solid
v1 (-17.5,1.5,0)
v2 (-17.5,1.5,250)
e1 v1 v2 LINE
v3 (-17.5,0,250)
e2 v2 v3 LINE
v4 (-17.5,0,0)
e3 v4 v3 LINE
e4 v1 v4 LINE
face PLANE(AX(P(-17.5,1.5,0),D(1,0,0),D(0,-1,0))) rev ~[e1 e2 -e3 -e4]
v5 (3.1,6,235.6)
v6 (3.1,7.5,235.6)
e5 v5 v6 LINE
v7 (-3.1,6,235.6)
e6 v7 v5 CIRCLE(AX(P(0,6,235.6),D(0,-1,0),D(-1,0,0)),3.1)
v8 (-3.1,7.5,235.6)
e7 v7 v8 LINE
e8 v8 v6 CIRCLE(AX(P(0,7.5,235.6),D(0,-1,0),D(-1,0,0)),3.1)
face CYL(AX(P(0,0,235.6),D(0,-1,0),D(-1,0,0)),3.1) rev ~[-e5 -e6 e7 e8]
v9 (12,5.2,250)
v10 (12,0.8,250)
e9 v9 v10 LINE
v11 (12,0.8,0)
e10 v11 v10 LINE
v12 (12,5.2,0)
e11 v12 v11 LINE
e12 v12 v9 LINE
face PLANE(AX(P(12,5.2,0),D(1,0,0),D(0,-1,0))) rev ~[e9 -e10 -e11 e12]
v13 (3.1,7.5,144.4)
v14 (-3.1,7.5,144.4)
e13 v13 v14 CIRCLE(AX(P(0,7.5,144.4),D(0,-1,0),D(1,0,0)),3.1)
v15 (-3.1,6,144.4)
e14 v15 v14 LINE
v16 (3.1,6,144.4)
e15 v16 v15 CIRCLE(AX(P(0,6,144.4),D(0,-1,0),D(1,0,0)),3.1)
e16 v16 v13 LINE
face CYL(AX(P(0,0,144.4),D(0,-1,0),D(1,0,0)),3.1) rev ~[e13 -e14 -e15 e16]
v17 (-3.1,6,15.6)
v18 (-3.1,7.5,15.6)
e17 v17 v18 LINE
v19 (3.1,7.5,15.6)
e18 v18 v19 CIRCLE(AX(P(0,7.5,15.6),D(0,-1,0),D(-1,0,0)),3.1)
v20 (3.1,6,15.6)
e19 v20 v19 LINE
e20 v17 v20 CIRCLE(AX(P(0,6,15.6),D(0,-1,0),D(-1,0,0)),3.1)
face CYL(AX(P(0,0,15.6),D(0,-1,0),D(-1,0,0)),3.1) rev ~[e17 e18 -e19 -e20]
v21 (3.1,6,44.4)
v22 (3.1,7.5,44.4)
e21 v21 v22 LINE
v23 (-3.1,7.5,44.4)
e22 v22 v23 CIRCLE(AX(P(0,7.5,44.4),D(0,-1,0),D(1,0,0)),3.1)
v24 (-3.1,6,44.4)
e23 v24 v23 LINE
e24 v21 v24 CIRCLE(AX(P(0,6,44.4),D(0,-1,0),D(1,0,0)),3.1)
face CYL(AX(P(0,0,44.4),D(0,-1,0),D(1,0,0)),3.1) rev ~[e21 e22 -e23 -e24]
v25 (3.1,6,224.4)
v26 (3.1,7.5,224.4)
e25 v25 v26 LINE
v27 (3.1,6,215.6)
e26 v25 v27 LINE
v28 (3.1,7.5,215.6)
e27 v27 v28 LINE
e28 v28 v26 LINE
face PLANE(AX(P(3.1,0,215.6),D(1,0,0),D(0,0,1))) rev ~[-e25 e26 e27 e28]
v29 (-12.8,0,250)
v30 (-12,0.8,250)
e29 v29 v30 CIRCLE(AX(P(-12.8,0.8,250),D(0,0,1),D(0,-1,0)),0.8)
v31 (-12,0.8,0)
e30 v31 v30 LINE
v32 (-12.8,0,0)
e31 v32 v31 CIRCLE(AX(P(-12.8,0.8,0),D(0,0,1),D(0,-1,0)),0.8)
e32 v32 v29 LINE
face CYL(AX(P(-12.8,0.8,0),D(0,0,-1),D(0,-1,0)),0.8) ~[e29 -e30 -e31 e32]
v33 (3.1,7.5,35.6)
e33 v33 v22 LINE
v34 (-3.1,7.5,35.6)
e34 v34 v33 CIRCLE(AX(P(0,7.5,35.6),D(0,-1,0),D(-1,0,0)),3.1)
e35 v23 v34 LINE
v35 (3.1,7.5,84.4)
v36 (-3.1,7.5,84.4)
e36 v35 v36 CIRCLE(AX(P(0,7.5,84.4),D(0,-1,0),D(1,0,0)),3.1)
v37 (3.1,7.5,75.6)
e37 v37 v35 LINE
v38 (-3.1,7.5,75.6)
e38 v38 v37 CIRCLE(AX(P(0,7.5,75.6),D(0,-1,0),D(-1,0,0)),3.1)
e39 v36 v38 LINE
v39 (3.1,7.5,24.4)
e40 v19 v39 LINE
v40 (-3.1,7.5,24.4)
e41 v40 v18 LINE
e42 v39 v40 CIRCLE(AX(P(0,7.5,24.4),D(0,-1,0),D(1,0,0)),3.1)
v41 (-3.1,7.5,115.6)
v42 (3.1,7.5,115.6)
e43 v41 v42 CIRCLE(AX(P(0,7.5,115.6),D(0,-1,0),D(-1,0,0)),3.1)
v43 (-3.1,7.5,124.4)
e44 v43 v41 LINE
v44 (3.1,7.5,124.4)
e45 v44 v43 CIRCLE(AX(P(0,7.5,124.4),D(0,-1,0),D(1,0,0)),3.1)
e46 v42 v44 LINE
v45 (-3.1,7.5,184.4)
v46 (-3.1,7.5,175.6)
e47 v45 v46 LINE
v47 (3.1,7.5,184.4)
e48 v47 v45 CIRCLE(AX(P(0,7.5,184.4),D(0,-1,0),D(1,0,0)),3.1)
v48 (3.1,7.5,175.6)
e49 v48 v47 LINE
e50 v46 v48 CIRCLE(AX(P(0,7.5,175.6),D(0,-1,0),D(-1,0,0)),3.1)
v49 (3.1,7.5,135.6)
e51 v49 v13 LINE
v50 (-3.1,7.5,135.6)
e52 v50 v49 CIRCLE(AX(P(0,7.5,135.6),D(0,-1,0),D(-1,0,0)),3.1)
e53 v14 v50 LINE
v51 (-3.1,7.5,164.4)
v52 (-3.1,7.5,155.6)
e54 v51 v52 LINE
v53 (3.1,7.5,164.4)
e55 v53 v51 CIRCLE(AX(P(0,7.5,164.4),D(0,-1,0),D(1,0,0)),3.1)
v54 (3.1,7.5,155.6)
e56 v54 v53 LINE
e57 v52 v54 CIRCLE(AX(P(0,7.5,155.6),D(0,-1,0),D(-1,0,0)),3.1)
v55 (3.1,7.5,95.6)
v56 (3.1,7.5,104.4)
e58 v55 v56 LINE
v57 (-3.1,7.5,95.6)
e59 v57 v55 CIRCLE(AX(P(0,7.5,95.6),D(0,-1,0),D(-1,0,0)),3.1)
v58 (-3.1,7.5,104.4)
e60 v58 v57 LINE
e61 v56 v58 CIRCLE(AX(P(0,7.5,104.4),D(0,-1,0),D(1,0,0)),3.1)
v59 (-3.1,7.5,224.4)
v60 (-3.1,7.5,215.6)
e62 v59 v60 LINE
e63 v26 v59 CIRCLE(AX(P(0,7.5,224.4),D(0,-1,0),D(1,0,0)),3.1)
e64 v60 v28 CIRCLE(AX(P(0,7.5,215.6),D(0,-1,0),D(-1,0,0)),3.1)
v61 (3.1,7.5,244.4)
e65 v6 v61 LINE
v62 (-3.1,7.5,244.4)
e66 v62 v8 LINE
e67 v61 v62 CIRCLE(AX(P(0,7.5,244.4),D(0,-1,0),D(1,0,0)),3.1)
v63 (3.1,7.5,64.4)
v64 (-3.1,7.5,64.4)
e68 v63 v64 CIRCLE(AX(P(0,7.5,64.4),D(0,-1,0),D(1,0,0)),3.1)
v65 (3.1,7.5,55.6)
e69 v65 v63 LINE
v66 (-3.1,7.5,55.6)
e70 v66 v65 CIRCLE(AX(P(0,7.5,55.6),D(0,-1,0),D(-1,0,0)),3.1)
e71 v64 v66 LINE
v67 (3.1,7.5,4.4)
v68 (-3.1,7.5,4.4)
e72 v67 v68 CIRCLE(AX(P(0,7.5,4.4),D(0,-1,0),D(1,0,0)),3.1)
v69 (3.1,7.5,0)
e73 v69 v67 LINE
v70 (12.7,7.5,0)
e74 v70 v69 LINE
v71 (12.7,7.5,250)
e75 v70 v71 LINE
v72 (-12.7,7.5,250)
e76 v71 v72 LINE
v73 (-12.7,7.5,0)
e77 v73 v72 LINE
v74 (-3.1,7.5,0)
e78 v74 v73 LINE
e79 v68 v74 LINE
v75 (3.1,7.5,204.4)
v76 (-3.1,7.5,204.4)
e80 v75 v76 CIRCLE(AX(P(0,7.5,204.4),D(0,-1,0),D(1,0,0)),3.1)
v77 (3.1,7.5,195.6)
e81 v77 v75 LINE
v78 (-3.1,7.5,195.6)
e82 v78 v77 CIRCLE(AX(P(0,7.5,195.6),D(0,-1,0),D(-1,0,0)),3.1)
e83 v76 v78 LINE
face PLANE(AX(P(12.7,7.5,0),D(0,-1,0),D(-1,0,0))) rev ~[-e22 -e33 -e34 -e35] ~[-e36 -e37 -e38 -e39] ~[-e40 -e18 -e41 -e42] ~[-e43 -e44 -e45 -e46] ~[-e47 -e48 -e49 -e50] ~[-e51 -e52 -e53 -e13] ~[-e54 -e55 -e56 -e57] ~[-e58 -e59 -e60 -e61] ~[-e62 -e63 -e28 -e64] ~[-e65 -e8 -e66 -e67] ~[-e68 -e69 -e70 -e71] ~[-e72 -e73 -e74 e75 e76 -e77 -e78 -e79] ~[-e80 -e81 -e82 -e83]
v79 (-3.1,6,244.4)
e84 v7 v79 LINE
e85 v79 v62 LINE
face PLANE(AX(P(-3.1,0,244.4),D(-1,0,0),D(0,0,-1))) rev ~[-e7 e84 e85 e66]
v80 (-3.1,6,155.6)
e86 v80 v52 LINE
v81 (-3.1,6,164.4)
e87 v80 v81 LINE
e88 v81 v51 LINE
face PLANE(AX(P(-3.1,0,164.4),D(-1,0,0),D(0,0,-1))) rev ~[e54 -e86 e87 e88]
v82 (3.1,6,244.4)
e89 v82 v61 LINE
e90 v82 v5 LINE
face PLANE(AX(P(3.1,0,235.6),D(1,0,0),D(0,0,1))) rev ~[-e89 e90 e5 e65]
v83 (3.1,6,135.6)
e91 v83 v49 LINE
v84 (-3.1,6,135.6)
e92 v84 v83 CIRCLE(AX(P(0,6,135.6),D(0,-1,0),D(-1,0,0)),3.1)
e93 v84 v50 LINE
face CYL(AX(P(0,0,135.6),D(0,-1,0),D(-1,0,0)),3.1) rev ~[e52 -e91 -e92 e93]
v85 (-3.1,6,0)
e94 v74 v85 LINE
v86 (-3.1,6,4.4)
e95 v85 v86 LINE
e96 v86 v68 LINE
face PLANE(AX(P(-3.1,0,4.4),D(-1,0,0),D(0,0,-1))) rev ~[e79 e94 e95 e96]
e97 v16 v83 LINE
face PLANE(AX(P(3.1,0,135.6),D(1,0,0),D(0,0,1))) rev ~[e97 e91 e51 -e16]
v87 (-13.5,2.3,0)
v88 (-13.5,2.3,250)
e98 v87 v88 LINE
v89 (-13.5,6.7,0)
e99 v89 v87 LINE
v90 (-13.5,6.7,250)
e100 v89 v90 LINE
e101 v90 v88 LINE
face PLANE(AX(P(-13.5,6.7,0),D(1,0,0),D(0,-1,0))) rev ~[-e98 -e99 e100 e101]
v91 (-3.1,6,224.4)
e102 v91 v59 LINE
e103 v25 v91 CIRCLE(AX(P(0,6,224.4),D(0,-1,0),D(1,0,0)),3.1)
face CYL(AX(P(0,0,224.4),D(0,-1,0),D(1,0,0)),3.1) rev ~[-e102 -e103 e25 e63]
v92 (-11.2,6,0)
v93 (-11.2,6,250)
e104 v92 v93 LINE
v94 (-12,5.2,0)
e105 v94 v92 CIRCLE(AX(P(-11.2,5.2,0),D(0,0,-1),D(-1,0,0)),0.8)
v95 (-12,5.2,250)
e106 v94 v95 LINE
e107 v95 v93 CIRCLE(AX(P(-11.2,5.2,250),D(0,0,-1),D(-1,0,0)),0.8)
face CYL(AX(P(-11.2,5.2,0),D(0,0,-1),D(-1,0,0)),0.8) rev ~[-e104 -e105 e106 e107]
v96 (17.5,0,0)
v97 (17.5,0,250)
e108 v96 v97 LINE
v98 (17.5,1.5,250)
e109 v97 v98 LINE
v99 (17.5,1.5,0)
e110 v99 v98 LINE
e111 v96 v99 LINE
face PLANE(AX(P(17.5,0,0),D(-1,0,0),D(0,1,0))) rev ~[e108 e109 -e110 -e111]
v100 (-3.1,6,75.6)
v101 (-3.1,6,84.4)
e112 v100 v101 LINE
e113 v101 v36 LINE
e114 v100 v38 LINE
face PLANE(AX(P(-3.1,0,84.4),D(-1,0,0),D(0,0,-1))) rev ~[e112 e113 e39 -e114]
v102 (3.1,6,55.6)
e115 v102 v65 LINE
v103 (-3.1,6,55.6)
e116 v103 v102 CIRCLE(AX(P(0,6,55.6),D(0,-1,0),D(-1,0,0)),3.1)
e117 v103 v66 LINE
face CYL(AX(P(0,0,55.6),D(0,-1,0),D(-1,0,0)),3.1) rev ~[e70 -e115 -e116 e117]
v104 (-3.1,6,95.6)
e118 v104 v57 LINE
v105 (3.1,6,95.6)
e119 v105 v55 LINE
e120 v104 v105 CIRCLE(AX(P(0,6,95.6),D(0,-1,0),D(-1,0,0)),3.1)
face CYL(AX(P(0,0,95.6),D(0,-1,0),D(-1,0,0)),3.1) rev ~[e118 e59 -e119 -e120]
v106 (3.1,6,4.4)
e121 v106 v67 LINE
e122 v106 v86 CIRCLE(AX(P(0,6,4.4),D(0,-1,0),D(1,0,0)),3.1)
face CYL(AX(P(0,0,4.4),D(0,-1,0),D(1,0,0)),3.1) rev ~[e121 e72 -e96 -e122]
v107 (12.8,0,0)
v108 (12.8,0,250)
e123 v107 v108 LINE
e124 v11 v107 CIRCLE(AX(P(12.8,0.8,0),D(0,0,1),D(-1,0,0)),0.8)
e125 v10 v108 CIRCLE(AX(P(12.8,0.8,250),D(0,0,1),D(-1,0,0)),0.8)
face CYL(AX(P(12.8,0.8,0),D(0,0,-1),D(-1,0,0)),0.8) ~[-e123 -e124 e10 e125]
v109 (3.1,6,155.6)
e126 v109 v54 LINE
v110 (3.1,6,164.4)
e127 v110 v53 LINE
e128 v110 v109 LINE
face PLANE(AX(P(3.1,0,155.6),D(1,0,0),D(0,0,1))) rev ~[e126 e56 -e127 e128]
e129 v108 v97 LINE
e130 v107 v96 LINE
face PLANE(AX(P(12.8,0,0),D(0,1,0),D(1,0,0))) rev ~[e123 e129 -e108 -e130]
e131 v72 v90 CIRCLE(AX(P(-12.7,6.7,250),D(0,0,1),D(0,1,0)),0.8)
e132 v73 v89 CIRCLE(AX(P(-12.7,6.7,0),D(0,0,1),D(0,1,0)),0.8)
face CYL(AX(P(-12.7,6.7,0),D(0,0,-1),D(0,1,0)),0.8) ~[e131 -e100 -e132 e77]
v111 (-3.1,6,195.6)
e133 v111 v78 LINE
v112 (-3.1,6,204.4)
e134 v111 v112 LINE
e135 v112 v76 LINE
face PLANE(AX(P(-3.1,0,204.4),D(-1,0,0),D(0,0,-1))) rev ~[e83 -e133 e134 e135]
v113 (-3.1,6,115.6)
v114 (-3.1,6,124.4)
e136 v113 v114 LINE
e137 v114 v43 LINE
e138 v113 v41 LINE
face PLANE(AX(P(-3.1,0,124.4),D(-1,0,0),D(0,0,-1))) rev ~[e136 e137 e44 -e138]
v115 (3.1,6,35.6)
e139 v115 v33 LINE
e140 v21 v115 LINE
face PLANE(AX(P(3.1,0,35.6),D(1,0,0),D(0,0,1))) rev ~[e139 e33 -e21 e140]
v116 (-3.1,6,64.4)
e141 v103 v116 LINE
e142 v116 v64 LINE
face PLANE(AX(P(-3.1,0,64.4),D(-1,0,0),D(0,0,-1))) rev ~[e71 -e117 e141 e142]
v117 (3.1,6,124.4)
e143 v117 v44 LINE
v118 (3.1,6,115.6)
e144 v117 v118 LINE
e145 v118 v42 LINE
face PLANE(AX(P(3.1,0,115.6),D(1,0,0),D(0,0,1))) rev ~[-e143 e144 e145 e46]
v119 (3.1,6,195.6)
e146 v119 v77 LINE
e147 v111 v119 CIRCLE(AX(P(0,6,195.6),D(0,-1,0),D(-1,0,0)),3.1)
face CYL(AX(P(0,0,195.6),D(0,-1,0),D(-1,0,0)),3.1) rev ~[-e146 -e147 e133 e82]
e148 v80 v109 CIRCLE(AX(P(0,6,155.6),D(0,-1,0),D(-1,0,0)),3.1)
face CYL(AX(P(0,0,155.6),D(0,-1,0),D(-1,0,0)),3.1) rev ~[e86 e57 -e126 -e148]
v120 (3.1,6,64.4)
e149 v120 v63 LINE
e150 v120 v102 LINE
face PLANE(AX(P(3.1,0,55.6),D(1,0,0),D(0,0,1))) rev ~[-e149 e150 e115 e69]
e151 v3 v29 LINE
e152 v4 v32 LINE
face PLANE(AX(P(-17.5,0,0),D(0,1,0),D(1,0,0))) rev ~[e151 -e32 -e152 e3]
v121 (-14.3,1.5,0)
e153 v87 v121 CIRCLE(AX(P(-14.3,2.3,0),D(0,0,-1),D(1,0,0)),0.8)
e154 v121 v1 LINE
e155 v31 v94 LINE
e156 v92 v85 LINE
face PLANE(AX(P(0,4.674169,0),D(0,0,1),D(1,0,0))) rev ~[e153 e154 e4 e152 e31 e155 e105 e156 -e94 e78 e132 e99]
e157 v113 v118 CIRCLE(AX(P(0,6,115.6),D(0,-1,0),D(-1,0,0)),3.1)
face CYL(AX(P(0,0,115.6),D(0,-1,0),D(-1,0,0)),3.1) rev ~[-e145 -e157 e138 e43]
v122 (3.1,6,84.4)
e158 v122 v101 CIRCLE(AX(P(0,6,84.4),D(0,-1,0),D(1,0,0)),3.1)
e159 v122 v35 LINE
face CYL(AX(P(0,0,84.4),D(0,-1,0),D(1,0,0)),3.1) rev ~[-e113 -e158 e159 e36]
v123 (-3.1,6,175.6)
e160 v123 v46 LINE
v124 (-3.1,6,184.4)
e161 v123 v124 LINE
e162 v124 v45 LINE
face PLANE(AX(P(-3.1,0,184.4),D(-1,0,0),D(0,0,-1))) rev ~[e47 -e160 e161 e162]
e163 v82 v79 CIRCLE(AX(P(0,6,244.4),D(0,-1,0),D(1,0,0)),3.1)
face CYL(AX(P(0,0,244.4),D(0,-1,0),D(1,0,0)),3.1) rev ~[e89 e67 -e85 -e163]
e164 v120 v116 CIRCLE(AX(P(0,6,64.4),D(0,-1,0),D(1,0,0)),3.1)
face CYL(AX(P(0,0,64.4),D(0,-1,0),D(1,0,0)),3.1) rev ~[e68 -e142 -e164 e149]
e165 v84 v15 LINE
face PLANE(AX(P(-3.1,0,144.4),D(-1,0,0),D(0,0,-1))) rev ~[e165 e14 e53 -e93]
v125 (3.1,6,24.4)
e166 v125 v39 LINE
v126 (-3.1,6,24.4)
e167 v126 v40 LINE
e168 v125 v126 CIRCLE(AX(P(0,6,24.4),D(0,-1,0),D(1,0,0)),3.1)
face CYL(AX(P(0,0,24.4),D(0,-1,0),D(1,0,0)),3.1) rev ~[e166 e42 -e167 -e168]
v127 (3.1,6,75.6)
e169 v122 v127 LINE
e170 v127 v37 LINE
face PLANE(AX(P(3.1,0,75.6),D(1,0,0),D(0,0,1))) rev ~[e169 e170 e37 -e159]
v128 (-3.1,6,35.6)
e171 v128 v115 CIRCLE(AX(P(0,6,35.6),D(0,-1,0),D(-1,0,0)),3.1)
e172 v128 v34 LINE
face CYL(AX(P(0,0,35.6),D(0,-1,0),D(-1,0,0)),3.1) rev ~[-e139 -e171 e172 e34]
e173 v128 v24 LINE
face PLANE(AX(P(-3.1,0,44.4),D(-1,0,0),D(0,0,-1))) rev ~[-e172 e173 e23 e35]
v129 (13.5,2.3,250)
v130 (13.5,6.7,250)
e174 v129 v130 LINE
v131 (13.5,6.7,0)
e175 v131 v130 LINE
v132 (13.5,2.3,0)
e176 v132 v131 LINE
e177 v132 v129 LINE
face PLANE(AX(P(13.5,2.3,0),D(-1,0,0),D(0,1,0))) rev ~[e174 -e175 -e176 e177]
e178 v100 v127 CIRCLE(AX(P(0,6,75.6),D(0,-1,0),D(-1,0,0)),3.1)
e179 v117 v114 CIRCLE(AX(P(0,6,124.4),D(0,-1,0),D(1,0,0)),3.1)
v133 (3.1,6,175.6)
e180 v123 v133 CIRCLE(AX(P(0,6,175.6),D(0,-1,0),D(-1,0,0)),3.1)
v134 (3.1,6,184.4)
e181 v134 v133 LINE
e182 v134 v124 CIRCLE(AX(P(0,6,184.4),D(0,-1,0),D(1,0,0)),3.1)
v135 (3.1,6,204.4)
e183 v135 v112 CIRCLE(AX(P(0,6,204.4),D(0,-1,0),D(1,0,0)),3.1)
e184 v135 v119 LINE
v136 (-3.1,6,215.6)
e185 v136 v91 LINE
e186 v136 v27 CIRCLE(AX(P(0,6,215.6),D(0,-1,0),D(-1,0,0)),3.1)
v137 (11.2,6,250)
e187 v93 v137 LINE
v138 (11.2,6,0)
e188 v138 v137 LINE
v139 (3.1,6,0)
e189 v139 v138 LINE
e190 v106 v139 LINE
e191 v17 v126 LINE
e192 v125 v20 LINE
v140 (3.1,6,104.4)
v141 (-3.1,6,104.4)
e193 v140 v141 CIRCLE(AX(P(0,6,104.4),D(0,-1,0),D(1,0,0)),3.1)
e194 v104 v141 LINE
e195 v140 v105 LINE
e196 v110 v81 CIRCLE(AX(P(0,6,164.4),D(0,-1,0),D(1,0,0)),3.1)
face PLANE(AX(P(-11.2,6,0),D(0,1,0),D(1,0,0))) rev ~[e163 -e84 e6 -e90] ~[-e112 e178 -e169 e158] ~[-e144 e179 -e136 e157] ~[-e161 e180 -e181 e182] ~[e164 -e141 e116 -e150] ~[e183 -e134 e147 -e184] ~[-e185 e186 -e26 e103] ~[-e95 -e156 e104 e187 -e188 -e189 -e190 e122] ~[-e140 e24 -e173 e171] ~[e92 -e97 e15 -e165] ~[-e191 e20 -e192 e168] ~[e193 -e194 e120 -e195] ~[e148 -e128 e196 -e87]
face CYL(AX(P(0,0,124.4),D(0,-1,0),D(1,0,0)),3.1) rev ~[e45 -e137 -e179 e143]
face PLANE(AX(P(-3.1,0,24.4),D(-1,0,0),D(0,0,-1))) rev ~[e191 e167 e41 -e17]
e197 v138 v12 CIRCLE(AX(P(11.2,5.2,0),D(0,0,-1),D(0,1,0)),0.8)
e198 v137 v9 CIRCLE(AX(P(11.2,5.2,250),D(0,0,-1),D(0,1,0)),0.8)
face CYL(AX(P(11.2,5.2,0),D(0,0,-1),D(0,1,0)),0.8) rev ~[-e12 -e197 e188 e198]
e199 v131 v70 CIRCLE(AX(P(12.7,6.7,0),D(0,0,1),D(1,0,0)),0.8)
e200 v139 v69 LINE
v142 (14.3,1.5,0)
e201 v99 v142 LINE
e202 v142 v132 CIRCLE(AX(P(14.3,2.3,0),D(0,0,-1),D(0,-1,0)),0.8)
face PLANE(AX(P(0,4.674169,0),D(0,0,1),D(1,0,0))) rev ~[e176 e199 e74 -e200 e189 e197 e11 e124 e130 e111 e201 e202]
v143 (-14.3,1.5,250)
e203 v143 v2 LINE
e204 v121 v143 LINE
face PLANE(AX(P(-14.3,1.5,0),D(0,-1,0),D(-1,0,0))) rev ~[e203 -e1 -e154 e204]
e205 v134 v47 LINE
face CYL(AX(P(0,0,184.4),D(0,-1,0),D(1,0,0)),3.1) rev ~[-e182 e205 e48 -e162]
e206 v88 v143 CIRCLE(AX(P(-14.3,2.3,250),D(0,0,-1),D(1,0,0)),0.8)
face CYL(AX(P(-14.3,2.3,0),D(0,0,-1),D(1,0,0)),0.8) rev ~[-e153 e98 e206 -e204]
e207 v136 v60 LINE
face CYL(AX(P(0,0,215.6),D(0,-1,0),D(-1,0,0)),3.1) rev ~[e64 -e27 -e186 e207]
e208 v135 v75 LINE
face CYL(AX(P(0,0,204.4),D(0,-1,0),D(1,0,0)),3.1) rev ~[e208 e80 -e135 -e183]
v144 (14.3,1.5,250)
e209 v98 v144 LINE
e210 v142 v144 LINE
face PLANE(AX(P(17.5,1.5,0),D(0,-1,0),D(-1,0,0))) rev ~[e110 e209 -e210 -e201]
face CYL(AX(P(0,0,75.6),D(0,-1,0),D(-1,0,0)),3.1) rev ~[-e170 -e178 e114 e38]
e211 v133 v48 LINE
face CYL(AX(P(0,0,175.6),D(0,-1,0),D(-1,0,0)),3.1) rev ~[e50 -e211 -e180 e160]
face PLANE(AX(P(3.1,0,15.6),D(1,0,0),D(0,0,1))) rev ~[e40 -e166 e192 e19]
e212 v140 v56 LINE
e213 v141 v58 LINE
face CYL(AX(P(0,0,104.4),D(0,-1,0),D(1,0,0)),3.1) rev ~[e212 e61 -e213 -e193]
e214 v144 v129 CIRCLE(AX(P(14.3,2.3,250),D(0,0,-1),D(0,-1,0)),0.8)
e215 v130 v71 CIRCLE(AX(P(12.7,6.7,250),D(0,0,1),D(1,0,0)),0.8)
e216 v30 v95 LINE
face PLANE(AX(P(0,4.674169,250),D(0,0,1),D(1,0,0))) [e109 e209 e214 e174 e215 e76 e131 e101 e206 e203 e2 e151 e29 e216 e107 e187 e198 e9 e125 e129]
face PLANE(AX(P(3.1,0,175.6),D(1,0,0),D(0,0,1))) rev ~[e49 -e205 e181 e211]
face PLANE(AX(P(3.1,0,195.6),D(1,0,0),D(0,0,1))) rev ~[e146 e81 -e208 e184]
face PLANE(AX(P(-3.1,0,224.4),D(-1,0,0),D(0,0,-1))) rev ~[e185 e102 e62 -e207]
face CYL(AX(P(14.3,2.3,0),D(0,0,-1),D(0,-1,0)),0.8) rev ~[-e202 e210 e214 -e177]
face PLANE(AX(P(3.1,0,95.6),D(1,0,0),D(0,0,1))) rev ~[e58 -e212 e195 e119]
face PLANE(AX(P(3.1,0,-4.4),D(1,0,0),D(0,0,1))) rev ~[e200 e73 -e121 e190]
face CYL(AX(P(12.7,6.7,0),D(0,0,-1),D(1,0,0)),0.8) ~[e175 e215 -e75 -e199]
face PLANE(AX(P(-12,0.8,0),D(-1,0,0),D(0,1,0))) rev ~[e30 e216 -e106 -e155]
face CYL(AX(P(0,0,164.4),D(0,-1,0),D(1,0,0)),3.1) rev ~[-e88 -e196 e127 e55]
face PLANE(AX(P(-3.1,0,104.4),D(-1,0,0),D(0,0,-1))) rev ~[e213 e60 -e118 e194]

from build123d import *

# Parameters (mm, degrees)
EXTRUDE_1_DEPTH     = 250
CUT_EXTRUDE_2_DEPTH = 7.5


with BuildPart() as part:
    # 草图1 → 凸台-拉伸1 (new body)
    with BuildSketch(Plane.XY):
        with BuildLine():
            Line((-17.5, 0), (-12.8, 0))
            ThreePointArc((-12.8, 0), (-12.234314575, 0.234314575), (-12, 0.8))
            Line((-12, 0.8), (-12, 5.2))
            ThreePointArc((-12, 5.2), (-11.765685425, 5.765685425), (-11.2, 6))
            Line((-11.2, 6), (11.2, 6))
            ThreePointArc((11.2, 6), (11.765685425, 5.765685425), (12, 5.2))
            Line((12, 5.2), (12, 0.8))
            ThreePointArc((12, 0.8), (12.234314575, 0.234314575), (12.8, 0))
            Line((12.8, 0), (17.5, 0))
            Line((17.5, 0), (17.5, 1.5))
            Line((17.5, 1.5), (14.3, 1.5))
            ThreePointArc((14.3, 1.5), (13.734314575, 1.734314575), (13.5, 2.3))
            Line((13.5, 2.3), (13.5, 6.7))
            ThreePointArc((13.5, 6.7), (13.265685425, 7.265685425), (12.7, 7.5))
            Line((12.7, 7.5), (-12.7, 7.5))
            ThreePointArc((-12.7, 7.5), (-13.265685425, 7.265685425), (-13.5, 6.7))
            Line((-13.5, 6.7), (-13.5, 2.3))
            ThreePointArc((-13.5, 2.3), (-13.734314575, 1.734314575), (-14.3, 1.5))
            Line((-14.3, 1.5), (-17.5, 1.5))
            Line((-17.5, 1.5), (-17.5, 0))
        make_face()
    extrude(amount=EXTRUDE_1_DEPTH)

    # 草图2 → 切除-拉伸2 (cut)
    with BuildSketch(Plane(origin=(0, 0, 0), x_dir=(1, 0, 0), z_dir=(0, 1, 0))):
        with BuildLine():
            Line((3.1, 4.4), (3.1, -4.4))
            ThreePointArc((3.1, -4.4), (0, -7.5), (-3.1, -4.4))
            Line((-3.1, -4.4), (-3.1, 4.4))
            ThreePointArc((-3.1, 4.4), (0, 7.5), (3.1, 4.4))
        make_face()
        with BuildLine():
            Line((3.1, -15.6), (3.1, -24.4))
            ThreePointArc((3.1, -24.4), (0, -27.5), (-3.1, -24.4))
            Line((-3.1, -24.4), (-3.1, -15.6))
            ThreePointArc((-3.1, -15.6), (0, -12.5), (3.1, -15.6))
        make_face()
        with BuildLine():
            Line((3.1, -35.6), (3.1, -44.4))
            ThreePointArc((3.1, -44.4), (0, -47.5), (-3.1, -44.4))
            Line((-3.1, -44.4), (-3.1, -35.6))
            ThreePointArc((-3.1, -35.6), (0, -32.5), (3.1, -35.6))
        make_face()
        with BuildLine():
            Line((3.1, -55.6), (3.1, -64.4))
            ThreePointArc((3.1, -64.4), (0, -67.5), (-3.1, -64.4))
            Line((-3.1, -64.4), (-3.1, -55.6))
            ThreePointArc((-3.1, -55.6), (0, -52.5), (3.1, -55.6))
        make_face()
        with BuildLine():
            Line((3.1, -75.6), (3.1, -84.4))
            ThreePointArc((3.1, -84.4), (0, -87.5), (-3.1, -84.4))
            Line((-3.1, -84.4), (-3.1, -75.6))
            ThreePointArc((-3.1, -75.6), (0, -72.5), (3.1, -75.6))
        make_face()
        with BuildLine():
            Line((3.1, -95.6), (3.1, -104.4))
            ThreePointArc((3.1, -104.4), (0, -107.5), (-3.1, -104.4))
            Line((-3.1, -104.4), (-3.1, -95.6))
            ThreePointArc((-3.1, -95.6), (0, -92.5), (3.1, -95.6))
        make_face()
        with BuildLine():
            Line((3.1, -115.6), (3.1, -124.4))
            ThreePointArc((3.1, -124.4), (0, -127.5), (-3.1, -124.4))
            Line((-3.1, -124.4), (-3.1, -115.6))
            ThreePointArc((-3.1, -115.6), (0, -112.5), (3.1, -115.6))
        make_face()
        with BuildLine():
            Line((3.1, -135.6), (3.1, -144.4))
            ThreePointArc((3.1, -144.4), (0, -147.5), (-3.1, -144.4))
            Line((-3.1, -144.4), (-3.1, -135.6))
            ThreePointArc((-3.1, -135.6), (0, -132.5), (3.1, -135.6))
        make_face()
        with BuildLine():
            Line((3.1, -155.6), (3.1, -164.4))
            ThreePointArc((3.1, -164.4), (0, -167.5), (-3.1, -164.4))
            Line((-3.1, -164.4), (-3.1, -155.6))
            ThreePointArc((-3.1, -155.6), (0, -152.5), (3.1, -155.6))
        make_face()
        with BuildLine():
            Line((3.1, -175.6), (3.1, -184.4))
            ThreePointArc((3.1, -184.4), (0, -187.5), (-3.1, -184.4))
            Line((-3.1, -184.4), (-3.1, -175.6))
            ThreePointArc((-3.1, -175.6), (0, -172.5), (3.1, -175.6))
        make_face()
        with BuildLine():
            Line((3.1, -195.6), (3.1, -204.4))
            ThreePointArc((3.1, -204.4), (0, -207.5), (-3.1, -204.4))
            Line((-3.1, -204.4), (-3.1, -195.6))
            ThreePointArc((-3.1, -195.6), (0, -192.5), (3.1, -195.6))
        make_face()
        with BuildLine():
            Line((3.1, -215.6), (3.1, -224.4))
            ThreePointArc((3.1, -224.4), (0, -227.5), (-3.1, -224.4))
            Line((-3.1, -224.4), (-3.1, -215.6))
            ThreePointArc((-3.1, -215.6), (0, -212.5), (3.1, -215.6))
        make_face()
        with BuildLine():
            Line((3.1, -235.6), (3.1, -244.4))
            ThreePointArc((3.1, -244.4), (0, -247.5), (-3.1, -244.4))
            Line((-3.1, -244.4), (-3.1, -235.6))
            ThreePointArc((-3.1, -235.6), (0, -232.5), (3.1, -235.6))
        make_face()
    extrude(amount=CUT_EXTRUDE_2_DEPTH, mode=Mode.SUBTRACT)


solid = part.part
